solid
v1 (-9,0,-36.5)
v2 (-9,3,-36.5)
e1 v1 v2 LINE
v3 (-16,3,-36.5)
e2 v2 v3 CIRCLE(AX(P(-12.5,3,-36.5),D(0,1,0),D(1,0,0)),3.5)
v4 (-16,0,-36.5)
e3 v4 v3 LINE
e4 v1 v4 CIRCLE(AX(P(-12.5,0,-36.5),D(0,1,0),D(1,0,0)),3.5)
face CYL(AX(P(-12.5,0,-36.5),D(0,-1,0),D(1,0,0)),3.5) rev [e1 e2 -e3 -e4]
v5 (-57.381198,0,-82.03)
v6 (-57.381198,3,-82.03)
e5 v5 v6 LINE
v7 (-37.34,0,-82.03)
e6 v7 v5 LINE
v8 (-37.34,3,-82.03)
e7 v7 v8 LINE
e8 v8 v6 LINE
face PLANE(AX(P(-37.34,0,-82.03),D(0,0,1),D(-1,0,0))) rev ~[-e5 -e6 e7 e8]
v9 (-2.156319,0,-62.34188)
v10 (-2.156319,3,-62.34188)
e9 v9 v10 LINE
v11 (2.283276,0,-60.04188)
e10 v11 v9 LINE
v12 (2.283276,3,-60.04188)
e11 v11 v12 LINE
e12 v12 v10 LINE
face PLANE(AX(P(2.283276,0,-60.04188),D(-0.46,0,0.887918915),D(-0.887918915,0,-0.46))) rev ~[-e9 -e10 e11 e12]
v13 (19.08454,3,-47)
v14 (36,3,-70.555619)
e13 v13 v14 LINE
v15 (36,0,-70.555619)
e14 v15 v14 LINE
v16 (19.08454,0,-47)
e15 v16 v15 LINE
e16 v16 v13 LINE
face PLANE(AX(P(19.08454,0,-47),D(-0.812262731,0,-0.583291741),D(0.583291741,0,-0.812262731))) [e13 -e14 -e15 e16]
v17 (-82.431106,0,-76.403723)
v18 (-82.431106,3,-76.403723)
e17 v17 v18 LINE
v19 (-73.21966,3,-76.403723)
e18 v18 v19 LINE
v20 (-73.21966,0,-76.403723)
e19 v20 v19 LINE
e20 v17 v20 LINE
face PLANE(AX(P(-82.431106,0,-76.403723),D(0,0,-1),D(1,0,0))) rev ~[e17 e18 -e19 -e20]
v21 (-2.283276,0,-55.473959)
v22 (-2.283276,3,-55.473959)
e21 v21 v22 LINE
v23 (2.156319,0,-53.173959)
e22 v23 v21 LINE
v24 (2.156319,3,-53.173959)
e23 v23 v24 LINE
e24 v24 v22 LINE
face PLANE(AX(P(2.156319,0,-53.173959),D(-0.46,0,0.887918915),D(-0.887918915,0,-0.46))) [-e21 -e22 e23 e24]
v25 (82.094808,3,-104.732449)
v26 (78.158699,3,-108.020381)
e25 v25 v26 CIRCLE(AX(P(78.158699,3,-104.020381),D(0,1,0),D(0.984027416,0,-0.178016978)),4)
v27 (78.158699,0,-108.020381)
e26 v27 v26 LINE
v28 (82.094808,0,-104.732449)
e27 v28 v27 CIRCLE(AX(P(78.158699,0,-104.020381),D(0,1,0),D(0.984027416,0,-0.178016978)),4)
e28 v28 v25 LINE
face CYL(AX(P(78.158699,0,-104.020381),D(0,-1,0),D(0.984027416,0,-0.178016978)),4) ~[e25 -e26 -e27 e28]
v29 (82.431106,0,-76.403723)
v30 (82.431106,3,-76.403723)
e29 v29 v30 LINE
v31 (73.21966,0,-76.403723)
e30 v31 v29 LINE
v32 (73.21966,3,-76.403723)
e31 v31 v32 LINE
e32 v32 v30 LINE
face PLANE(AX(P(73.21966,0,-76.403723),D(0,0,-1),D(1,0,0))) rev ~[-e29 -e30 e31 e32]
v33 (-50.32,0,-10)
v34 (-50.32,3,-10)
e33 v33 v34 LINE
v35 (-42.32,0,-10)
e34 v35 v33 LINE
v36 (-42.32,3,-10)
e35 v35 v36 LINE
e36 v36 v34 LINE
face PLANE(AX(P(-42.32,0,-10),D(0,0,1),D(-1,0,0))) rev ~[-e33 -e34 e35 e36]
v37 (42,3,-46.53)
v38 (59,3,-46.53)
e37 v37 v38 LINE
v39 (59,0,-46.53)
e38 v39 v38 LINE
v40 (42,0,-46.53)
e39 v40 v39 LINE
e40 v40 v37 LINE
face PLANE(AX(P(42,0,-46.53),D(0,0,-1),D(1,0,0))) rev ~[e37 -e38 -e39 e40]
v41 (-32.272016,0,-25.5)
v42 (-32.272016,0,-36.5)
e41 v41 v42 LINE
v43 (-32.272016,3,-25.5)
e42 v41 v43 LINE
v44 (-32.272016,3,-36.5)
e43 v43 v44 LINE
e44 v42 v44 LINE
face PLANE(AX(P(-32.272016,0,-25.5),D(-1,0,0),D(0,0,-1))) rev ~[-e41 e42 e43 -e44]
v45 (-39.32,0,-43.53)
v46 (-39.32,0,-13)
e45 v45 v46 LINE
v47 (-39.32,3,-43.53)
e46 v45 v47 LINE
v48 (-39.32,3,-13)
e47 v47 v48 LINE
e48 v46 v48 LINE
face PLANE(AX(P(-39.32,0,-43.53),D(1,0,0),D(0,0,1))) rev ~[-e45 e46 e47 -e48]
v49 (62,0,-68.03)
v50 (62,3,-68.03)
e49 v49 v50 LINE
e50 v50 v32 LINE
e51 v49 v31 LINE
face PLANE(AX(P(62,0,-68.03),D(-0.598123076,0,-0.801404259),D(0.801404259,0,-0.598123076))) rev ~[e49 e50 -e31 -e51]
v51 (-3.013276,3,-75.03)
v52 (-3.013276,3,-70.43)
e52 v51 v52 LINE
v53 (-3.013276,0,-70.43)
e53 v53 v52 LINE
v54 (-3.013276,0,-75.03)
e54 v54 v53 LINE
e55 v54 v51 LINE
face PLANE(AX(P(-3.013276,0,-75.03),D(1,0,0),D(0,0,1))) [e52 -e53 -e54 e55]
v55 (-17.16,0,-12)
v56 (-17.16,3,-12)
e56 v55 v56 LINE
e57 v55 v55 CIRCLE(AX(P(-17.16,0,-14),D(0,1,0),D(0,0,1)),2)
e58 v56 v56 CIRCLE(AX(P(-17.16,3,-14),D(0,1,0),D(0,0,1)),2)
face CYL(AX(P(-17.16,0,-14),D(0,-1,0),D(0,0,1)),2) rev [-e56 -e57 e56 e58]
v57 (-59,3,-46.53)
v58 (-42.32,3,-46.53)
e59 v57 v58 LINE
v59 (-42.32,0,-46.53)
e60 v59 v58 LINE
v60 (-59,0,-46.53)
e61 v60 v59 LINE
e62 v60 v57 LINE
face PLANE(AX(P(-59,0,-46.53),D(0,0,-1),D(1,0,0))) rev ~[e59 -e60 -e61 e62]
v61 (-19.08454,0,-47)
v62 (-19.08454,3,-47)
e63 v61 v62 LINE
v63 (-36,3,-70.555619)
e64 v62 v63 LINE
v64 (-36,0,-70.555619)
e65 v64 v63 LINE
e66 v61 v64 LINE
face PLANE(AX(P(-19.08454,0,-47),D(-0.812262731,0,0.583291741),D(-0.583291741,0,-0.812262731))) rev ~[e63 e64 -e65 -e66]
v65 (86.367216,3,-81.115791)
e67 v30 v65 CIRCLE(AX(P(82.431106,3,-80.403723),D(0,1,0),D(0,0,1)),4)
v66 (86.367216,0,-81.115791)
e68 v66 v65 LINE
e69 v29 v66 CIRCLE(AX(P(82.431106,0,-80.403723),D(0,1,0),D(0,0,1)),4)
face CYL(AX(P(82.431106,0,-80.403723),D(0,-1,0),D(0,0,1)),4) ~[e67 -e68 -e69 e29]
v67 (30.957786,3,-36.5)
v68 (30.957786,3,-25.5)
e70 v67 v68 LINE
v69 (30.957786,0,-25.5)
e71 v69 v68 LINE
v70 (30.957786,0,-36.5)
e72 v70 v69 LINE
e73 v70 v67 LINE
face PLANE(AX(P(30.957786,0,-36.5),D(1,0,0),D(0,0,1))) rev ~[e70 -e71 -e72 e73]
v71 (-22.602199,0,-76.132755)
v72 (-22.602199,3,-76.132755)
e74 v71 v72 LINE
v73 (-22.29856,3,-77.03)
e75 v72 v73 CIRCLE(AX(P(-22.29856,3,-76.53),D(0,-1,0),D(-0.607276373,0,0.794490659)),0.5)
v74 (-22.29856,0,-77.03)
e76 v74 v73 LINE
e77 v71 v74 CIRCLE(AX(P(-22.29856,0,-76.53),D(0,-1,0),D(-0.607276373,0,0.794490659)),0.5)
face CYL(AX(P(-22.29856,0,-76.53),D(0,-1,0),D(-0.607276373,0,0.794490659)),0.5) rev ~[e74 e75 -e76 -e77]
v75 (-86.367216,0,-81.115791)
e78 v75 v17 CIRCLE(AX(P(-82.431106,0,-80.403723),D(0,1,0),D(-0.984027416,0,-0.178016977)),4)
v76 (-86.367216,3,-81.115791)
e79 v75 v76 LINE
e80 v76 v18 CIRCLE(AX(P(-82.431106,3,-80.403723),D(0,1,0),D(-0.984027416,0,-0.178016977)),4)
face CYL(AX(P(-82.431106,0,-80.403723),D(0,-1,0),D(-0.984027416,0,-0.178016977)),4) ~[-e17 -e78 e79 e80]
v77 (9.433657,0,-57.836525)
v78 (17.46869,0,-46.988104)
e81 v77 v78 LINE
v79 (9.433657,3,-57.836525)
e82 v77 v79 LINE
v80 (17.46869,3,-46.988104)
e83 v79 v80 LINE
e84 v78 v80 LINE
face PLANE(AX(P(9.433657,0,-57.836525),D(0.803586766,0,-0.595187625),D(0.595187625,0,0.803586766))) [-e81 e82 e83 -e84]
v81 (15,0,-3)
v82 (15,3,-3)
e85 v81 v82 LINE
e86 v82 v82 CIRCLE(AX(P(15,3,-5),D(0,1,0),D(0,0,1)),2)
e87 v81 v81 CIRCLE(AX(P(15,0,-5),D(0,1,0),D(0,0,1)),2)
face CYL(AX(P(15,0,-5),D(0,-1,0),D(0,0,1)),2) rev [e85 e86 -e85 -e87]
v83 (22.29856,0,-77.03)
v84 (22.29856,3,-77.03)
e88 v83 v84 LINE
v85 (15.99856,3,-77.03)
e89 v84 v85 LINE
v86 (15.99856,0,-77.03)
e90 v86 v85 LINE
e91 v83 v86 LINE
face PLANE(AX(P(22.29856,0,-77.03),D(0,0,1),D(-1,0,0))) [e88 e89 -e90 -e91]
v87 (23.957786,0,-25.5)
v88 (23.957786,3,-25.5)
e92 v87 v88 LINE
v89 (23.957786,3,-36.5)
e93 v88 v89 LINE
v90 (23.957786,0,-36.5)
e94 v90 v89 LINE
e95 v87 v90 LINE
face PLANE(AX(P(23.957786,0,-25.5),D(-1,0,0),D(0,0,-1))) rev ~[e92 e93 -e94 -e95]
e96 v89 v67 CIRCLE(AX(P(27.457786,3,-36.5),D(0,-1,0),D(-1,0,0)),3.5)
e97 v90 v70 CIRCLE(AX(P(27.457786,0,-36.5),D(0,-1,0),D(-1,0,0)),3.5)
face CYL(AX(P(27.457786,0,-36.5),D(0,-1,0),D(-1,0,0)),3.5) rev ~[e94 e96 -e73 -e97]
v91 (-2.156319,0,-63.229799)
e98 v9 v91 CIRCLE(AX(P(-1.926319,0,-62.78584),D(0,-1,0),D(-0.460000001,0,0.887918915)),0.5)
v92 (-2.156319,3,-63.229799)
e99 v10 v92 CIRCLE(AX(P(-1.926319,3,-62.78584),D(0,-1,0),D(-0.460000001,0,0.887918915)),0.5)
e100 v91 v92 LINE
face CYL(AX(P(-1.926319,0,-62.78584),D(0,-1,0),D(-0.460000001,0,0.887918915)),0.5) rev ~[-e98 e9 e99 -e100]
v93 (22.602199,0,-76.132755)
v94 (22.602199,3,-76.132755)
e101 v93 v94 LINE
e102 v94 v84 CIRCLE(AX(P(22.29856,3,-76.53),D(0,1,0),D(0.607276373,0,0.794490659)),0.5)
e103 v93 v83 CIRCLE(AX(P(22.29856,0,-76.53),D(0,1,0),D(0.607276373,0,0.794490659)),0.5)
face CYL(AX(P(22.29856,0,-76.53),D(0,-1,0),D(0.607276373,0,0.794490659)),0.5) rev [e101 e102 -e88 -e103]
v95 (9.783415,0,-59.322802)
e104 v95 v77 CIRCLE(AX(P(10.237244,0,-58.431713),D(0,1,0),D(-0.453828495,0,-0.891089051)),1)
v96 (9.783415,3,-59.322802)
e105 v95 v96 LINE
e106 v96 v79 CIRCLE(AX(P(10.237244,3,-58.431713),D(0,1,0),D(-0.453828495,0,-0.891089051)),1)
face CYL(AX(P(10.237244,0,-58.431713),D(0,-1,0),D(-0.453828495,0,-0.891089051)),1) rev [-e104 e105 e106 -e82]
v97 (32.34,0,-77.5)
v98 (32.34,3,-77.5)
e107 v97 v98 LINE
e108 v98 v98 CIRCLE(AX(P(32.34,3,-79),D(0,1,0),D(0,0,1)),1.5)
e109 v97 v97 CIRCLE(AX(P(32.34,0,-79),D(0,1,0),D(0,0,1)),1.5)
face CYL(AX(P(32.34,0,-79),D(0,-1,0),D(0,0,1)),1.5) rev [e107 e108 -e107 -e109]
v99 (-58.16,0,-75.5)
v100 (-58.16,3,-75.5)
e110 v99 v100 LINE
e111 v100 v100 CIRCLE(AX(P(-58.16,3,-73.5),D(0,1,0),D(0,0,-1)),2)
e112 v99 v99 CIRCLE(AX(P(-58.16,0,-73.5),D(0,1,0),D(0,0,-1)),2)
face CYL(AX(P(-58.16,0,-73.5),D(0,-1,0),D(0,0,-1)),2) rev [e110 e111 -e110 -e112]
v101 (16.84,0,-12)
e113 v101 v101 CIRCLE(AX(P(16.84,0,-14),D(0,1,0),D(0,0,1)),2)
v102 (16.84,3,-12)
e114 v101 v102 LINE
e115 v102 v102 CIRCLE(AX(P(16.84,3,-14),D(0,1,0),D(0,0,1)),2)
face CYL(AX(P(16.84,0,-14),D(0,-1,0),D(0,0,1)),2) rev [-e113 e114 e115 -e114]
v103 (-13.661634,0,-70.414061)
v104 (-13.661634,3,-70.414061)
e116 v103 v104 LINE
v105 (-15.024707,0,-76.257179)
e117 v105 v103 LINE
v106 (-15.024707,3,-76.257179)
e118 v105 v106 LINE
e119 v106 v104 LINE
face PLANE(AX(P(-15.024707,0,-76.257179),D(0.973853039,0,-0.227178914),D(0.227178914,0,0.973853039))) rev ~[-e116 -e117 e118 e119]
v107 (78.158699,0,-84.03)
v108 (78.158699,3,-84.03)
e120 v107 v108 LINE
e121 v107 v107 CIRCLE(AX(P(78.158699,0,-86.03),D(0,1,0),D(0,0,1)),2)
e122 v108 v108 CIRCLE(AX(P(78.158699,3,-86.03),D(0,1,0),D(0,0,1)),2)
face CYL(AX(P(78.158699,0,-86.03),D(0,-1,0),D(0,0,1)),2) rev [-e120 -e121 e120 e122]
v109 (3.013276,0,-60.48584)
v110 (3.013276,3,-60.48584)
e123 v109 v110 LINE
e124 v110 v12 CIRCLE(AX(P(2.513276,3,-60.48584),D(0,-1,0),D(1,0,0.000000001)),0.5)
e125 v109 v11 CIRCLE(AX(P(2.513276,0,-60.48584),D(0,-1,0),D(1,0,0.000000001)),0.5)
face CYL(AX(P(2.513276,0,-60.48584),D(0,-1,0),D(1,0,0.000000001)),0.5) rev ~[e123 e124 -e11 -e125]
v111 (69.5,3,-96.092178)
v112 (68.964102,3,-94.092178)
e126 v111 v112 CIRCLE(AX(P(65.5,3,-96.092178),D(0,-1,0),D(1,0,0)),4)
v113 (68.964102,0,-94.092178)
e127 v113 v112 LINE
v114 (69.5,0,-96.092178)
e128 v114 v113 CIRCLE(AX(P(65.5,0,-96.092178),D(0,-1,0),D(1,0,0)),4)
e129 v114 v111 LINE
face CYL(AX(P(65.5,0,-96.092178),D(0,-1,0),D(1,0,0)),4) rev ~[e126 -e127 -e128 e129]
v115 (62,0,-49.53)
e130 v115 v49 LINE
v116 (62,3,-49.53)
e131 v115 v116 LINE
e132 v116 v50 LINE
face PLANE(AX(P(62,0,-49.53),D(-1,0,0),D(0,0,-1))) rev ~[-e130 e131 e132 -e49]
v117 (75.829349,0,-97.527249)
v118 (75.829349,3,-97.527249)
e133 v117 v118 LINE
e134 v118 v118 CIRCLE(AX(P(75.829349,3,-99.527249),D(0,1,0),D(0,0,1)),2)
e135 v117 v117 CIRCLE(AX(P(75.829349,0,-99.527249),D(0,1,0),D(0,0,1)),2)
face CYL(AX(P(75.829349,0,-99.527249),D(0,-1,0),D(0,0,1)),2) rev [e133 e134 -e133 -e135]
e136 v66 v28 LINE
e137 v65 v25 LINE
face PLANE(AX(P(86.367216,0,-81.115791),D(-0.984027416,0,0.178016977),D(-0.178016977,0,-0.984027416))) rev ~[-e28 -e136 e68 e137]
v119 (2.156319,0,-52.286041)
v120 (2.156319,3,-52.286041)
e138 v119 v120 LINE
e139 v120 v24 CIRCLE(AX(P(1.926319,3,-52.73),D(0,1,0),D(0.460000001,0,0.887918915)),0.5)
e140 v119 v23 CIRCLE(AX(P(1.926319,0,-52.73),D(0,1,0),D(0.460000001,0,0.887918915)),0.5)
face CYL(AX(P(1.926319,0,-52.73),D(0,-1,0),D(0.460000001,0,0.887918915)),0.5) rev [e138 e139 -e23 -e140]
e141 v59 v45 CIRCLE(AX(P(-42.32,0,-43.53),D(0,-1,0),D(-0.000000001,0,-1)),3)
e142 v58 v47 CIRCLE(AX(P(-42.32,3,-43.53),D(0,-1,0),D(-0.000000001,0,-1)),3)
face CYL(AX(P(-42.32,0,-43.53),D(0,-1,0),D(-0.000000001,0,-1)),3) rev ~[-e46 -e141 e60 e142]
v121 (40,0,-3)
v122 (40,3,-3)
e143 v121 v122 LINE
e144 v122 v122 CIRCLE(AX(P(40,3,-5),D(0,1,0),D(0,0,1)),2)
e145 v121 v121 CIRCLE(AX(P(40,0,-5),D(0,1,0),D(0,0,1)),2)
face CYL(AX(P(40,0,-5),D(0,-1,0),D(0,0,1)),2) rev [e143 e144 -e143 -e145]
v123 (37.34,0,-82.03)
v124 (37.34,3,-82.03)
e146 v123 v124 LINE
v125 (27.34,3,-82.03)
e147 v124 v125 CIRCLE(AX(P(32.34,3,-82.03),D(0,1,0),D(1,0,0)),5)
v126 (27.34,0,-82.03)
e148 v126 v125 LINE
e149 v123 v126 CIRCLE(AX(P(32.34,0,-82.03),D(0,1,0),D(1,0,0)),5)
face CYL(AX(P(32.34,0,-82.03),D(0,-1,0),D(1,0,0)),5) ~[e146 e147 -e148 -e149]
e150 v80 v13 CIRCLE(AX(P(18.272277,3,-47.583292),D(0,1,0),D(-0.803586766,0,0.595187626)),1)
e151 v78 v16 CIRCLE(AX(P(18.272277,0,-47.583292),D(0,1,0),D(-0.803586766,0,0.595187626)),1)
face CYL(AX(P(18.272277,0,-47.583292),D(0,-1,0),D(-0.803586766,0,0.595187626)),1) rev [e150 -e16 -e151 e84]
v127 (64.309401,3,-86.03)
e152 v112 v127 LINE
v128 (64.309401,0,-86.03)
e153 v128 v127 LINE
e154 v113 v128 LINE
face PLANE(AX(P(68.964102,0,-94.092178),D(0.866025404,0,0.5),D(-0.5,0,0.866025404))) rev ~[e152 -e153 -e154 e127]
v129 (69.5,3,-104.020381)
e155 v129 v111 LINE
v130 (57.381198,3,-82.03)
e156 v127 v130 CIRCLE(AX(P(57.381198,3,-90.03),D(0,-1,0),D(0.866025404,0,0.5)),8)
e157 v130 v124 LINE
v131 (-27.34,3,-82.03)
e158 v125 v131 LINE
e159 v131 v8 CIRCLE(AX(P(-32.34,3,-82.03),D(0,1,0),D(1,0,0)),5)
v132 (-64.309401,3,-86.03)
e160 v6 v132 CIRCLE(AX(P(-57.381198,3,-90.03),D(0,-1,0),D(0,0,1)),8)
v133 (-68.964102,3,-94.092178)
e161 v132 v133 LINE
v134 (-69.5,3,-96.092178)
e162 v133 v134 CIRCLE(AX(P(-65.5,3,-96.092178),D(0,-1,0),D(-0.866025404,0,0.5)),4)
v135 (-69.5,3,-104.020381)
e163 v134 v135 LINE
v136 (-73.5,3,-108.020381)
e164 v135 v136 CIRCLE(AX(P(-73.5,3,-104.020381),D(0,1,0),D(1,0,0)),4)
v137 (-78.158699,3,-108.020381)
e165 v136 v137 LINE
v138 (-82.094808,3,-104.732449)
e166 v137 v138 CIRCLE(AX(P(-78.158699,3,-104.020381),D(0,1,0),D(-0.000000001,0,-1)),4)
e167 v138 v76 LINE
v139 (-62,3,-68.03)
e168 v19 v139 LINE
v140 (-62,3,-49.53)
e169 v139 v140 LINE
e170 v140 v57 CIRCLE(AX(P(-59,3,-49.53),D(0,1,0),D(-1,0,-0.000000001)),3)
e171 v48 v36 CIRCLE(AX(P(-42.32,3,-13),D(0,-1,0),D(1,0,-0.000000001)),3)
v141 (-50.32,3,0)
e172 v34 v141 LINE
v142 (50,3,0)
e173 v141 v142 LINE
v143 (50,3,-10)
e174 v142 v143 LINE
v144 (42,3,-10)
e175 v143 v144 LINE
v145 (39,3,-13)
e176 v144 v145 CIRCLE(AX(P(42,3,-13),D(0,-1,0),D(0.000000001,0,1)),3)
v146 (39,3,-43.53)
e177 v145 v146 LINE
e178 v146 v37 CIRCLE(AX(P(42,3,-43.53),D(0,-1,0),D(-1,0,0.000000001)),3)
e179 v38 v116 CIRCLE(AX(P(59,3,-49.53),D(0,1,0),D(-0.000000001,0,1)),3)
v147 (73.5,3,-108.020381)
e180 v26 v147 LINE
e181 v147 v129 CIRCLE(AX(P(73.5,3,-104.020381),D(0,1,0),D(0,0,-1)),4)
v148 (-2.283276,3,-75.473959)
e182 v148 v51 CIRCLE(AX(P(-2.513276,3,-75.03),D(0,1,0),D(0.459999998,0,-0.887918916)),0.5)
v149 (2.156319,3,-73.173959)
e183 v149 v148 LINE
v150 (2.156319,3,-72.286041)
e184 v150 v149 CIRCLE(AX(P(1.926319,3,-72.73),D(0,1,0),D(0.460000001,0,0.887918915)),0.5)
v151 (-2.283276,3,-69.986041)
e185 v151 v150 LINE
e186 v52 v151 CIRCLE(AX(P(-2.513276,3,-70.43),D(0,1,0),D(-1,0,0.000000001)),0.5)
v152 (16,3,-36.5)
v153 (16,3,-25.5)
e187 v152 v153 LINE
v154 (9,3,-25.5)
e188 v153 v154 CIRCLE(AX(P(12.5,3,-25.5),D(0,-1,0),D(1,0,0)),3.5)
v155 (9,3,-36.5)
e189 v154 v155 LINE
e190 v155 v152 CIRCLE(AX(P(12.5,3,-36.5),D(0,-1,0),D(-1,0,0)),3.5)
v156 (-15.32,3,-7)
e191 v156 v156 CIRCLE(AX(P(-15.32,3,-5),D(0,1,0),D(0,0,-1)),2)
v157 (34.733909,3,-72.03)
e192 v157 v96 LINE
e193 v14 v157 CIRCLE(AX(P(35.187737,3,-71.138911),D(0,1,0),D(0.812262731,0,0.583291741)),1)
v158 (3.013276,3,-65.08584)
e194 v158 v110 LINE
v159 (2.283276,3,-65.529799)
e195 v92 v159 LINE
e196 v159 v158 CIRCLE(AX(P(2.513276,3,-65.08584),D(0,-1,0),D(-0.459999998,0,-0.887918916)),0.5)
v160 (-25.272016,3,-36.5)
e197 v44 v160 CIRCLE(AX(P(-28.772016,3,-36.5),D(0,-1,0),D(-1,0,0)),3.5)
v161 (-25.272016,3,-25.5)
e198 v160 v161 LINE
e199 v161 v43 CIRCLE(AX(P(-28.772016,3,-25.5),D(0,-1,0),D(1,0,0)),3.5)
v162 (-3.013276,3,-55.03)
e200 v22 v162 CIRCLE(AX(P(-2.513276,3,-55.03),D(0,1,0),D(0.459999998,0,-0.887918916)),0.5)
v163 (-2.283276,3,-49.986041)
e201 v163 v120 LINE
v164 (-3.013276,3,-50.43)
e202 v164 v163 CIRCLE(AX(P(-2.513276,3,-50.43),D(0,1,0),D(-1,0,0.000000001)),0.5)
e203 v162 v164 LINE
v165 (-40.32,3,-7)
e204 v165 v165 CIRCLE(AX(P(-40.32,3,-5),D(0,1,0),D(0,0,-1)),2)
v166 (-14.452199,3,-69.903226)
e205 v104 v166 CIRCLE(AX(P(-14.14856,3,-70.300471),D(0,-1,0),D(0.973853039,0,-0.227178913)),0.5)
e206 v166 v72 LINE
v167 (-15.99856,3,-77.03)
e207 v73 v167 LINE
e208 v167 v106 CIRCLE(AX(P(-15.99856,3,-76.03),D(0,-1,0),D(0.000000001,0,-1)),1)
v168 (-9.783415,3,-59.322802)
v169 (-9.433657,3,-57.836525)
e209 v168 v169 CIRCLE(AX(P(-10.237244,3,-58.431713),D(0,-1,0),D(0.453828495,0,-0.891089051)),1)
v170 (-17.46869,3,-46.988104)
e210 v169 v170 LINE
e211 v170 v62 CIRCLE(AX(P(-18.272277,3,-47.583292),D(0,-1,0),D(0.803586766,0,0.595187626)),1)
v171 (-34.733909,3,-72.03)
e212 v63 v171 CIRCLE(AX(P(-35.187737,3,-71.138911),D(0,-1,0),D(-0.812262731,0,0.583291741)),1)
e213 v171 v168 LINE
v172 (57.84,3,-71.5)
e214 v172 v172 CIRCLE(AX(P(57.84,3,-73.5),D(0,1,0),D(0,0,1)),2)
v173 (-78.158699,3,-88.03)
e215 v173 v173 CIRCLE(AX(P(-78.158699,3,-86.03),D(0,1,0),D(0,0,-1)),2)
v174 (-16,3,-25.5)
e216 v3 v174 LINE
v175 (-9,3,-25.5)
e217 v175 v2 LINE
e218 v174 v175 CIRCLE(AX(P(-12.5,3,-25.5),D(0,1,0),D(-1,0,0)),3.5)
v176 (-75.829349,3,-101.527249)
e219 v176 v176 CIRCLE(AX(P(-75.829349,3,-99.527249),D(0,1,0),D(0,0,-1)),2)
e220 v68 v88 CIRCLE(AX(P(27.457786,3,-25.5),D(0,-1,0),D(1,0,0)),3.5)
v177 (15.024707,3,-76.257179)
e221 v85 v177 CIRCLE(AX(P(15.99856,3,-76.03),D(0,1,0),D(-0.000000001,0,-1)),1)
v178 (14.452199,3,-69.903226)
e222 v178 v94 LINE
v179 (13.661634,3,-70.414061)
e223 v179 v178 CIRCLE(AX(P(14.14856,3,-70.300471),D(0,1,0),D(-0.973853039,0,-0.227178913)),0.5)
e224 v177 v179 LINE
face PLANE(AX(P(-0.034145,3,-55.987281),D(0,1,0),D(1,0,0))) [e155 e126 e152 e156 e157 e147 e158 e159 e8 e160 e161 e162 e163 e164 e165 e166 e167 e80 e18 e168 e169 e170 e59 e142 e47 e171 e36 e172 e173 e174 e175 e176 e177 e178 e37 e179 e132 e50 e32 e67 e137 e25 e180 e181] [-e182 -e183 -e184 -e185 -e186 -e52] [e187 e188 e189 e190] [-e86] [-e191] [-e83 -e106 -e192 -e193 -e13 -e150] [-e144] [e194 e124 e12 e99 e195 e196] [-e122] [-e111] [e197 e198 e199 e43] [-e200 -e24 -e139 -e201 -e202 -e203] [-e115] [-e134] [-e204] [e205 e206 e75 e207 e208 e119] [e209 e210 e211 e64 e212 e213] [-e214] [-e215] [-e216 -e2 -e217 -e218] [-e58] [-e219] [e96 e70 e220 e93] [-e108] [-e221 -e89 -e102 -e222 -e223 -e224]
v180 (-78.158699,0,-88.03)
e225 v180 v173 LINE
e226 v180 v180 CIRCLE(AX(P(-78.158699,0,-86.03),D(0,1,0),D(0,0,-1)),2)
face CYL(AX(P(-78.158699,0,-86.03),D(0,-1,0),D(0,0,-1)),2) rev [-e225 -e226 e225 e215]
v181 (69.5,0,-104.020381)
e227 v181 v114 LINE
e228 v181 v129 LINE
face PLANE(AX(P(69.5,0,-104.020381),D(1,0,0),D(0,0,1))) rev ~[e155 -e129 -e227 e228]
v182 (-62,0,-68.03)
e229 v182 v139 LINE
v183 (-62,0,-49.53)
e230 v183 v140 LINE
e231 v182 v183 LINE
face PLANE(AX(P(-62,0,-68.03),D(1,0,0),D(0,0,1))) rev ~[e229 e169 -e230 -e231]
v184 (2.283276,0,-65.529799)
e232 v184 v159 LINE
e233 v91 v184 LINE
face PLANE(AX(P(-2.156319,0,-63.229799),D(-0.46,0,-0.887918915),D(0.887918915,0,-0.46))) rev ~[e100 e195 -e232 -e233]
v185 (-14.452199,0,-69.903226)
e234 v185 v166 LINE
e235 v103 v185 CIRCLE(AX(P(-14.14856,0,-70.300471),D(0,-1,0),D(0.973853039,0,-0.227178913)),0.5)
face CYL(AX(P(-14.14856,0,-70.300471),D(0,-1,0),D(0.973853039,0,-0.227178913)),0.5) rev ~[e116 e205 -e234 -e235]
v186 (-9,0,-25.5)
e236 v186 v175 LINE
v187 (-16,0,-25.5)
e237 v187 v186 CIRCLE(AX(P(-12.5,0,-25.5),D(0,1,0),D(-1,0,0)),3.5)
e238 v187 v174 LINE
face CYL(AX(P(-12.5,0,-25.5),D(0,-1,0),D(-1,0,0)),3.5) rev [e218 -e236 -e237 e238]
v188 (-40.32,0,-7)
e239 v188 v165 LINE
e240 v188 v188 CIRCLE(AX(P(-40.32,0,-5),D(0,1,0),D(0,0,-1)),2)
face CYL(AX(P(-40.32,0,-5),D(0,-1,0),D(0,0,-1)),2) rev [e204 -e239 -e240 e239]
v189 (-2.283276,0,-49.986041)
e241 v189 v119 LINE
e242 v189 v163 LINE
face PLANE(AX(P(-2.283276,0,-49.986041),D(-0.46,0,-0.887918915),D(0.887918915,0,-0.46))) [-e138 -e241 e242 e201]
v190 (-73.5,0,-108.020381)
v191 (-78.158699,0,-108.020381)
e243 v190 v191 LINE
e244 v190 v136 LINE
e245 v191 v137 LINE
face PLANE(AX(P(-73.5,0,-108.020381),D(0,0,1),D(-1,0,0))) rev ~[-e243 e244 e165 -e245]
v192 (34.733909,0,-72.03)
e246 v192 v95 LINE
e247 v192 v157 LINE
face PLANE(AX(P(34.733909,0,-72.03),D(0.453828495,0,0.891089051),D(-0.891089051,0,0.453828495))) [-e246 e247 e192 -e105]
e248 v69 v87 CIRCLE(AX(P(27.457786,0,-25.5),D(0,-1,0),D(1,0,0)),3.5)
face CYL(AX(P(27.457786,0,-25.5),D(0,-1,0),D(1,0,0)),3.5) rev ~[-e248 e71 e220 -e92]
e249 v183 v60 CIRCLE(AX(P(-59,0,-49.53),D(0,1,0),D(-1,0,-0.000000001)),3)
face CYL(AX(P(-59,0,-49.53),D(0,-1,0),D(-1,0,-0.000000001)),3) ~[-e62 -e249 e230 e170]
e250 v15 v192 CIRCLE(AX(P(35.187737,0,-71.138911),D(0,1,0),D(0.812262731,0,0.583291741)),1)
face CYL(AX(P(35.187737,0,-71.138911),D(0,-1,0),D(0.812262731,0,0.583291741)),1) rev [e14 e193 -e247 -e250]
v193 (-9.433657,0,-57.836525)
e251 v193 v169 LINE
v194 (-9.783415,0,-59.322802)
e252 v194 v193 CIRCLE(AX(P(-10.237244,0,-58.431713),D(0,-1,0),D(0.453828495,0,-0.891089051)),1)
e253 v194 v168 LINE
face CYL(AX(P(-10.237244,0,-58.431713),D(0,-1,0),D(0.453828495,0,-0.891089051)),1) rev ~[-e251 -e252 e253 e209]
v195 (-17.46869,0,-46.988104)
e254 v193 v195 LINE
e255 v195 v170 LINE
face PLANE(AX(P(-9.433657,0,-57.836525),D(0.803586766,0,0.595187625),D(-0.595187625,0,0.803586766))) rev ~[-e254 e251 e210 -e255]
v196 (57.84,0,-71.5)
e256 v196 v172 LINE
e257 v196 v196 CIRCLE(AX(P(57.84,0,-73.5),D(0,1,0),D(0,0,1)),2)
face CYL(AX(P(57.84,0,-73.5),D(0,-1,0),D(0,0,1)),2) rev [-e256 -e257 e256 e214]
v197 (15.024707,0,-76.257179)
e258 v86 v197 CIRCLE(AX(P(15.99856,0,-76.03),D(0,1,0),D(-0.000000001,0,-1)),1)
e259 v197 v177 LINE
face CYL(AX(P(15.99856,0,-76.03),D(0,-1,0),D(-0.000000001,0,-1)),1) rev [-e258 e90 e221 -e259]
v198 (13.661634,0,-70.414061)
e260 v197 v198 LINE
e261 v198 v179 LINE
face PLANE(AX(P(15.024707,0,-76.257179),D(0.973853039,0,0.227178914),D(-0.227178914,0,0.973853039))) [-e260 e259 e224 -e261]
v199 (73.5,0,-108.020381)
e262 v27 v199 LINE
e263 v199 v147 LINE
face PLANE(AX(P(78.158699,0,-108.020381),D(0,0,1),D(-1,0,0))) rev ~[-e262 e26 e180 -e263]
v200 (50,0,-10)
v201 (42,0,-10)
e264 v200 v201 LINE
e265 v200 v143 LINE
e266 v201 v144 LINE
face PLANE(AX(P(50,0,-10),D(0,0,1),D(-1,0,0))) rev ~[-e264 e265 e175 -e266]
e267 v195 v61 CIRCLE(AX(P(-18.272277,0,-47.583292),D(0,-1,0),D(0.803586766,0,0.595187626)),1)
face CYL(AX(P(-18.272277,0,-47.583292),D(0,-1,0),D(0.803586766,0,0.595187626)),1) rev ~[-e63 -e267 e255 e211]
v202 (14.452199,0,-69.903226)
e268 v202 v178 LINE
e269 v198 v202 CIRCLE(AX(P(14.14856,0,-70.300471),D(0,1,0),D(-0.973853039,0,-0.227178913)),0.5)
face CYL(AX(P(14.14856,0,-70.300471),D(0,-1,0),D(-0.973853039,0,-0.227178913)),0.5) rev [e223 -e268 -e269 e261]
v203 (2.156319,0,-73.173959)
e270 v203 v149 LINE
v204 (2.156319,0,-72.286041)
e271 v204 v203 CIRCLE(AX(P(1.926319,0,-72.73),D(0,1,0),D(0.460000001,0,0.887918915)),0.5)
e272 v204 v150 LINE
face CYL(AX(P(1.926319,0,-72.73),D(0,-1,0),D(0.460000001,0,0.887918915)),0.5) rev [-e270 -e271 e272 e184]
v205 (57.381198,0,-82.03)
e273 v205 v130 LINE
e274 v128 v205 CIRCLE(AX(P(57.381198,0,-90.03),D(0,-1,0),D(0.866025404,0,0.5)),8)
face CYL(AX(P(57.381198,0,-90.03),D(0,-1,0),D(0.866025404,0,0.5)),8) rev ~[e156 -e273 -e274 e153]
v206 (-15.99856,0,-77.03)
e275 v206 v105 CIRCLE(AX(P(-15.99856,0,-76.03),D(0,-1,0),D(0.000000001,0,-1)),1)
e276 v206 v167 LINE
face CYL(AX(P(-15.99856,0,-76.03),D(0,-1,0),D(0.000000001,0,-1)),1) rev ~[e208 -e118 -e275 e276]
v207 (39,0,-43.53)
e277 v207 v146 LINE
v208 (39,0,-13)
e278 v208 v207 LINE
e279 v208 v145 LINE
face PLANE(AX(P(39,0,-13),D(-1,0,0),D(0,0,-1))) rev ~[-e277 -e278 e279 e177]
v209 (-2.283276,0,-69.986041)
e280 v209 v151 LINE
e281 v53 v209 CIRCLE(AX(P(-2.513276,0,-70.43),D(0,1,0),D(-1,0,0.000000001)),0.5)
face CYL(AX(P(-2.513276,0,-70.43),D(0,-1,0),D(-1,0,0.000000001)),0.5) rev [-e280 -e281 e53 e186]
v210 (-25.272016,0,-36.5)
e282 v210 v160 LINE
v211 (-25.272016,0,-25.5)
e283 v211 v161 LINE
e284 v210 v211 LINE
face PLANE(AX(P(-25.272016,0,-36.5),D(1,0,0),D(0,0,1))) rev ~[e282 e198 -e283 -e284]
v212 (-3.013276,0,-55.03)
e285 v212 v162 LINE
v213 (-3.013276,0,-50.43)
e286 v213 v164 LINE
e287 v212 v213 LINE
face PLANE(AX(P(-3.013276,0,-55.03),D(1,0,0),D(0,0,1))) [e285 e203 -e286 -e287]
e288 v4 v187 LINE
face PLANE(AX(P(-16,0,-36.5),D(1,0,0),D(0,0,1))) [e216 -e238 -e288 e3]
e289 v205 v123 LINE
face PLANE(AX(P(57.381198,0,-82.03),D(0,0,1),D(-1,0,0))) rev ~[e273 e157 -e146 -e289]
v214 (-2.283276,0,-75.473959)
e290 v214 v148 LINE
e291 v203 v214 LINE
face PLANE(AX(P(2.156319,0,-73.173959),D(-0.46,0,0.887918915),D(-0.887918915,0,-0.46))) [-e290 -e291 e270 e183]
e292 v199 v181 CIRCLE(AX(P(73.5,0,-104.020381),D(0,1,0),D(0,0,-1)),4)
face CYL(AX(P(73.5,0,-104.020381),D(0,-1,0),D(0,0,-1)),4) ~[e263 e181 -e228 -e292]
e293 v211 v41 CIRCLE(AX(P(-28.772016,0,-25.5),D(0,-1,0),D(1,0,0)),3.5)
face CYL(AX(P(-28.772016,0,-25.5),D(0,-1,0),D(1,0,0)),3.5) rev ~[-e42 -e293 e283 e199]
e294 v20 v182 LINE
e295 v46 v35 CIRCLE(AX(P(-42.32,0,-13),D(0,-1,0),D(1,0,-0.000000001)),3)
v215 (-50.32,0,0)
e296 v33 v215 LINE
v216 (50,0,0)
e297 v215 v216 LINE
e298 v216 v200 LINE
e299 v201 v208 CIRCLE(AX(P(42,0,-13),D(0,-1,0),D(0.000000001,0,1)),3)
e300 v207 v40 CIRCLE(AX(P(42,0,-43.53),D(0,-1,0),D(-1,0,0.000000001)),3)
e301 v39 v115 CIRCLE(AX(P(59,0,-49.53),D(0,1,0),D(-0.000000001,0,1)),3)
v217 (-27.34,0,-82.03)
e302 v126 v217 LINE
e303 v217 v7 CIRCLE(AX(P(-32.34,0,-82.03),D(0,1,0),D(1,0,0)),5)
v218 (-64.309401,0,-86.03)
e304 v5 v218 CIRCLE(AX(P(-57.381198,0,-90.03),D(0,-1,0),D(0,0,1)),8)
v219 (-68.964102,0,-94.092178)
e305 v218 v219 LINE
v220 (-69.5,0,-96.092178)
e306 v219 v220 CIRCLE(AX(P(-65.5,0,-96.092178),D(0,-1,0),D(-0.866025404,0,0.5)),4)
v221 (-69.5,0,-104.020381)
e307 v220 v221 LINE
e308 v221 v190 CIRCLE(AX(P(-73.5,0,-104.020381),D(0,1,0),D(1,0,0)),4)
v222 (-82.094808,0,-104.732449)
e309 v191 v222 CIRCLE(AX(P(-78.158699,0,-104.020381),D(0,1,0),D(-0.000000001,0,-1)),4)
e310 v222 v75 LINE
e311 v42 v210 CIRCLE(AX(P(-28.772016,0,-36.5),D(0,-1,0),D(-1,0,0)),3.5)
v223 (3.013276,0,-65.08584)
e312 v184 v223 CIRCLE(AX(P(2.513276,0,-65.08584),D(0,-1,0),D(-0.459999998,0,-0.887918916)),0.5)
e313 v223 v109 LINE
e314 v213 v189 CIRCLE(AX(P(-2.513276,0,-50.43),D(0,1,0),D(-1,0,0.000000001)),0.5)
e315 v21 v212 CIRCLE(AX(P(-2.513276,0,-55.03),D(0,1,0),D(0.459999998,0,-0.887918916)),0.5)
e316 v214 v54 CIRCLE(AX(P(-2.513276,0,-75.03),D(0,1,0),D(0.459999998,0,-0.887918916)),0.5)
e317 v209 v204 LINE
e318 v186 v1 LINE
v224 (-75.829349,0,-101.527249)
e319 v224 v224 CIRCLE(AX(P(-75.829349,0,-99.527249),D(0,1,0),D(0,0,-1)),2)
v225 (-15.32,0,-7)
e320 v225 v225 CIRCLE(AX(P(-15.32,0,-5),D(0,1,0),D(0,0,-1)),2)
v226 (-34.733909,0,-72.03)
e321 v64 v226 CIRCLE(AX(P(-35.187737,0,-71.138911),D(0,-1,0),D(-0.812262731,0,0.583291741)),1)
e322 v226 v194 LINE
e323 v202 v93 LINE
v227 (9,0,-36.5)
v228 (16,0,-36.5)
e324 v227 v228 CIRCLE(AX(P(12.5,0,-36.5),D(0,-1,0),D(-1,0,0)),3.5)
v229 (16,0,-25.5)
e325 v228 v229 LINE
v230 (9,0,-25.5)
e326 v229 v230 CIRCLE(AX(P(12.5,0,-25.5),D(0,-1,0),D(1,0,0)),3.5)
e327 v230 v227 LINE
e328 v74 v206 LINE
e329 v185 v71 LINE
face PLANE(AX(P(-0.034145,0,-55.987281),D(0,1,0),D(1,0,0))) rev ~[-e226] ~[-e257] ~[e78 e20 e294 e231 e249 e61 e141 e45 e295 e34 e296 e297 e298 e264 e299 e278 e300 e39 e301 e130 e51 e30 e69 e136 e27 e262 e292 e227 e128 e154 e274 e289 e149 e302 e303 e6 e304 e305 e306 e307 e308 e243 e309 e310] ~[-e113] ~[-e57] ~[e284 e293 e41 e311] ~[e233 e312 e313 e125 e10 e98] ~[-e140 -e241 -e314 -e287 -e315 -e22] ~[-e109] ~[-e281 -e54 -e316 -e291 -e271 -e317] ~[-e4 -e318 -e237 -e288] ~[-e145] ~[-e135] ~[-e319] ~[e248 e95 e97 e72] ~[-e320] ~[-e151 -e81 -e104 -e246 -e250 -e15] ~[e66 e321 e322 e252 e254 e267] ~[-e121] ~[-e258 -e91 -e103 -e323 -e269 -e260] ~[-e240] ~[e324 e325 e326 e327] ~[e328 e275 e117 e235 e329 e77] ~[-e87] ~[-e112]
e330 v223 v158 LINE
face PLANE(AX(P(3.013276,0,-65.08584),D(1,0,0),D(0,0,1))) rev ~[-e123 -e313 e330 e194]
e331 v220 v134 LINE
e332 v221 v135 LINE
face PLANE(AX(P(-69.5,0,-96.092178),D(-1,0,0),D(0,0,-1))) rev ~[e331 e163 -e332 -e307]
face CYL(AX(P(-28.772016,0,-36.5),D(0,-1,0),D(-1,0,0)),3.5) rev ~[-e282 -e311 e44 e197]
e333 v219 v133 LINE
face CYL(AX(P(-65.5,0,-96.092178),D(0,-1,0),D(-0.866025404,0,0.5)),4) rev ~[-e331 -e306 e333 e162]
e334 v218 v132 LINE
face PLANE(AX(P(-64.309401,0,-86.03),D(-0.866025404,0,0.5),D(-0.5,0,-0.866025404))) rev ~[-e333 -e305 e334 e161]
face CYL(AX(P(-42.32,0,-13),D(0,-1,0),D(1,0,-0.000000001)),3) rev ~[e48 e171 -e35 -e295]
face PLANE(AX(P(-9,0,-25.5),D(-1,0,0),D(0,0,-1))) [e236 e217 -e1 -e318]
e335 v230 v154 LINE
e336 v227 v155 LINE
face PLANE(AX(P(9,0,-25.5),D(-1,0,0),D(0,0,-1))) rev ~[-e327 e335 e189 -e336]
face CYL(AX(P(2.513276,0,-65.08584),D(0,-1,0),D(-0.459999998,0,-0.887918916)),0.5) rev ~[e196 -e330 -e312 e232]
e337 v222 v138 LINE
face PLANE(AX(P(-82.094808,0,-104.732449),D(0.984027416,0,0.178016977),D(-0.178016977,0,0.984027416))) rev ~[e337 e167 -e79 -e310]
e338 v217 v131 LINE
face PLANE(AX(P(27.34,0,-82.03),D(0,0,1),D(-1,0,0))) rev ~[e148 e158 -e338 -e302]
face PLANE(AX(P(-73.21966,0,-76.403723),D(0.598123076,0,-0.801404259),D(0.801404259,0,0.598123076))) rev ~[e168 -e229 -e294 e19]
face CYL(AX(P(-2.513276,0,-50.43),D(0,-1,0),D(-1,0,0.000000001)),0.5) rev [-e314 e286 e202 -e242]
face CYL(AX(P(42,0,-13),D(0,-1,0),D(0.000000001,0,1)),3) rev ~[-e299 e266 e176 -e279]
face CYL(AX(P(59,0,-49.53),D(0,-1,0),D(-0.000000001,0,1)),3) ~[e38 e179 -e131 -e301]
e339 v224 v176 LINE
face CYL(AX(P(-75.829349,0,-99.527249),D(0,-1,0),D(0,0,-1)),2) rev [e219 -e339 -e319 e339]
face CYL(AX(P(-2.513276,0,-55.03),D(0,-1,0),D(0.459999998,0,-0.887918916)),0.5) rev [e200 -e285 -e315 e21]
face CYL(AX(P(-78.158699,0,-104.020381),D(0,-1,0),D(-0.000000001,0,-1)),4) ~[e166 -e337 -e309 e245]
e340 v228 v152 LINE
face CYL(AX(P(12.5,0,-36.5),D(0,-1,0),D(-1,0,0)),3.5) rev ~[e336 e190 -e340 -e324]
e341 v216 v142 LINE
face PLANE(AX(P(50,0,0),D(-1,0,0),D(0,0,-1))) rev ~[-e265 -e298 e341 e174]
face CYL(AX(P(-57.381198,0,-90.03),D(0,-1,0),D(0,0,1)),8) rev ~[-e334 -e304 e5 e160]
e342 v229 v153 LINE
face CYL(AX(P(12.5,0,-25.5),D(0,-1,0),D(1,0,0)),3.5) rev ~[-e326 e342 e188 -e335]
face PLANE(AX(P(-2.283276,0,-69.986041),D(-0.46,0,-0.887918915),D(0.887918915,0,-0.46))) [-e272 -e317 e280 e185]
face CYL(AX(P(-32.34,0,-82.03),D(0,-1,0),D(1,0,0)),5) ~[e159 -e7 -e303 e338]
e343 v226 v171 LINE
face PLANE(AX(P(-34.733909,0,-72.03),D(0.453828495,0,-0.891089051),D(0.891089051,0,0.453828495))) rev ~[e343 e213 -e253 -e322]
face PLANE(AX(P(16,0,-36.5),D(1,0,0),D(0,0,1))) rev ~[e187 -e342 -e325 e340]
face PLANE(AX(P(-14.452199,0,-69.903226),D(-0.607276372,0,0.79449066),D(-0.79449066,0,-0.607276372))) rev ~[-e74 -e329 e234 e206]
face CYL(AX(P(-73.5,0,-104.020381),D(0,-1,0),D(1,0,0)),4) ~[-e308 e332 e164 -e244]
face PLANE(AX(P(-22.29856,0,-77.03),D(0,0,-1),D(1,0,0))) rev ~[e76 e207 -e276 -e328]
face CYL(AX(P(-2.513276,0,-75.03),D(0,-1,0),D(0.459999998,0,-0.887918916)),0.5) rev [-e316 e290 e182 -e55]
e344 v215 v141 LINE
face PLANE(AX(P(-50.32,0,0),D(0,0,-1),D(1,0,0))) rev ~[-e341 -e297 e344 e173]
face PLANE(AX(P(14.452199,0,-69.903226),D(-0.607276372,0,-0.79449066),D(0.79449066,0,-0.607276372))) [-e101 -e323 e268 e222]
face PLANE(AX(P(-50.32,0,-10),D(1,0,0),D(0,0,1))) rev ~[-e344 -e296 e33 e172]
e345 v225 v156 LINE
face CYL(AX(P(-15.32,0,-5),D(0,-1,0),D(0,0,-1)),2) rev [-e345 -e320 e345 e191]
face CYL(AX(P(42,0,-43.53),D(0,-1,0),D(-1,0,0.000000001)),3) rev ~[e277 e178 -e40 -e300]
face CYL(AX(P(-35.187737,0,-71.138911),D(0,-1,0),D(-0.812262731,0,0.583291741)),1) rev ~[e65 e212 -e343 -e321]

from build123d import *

# Parameters (mm, degrees)
SKETCH_2_R      = 2
SKETCH_2_R_2    = 1.5
EXTRUDE_2_DEPTH = 3


with BuildPart() as part:
    # 草图2 → 凸台-拉伸2 (new body)
    with BuildSketch(Plane(origin=(0, 0, 0), x_dir=(1, 0, 0), z_dir=(0, 1, 0))):
        with BuildLine():
            Line((-50, 0), (50, 0))
            Line((50, 0), (50, 10))
            Line((50, 10), (42, 10))
            ThreePointArc((42, 10), (39.878679656, 10.878679656), (39, 13))
            Line((39, 13), (39, 43.53))
            ThreePointArc((39, 43.53), (39.878679656, 45.651320344), (42, 46.53))
            Line((42, 46.53), (59, 46.53))
            ThreePointArc((59, 46.53), (61.121320344, 47.408679656), (62, 49.53))
            Line((62, 49.53), (62, 68.03))
            Line((62, 68.03), (73.21965962, 76.403723067))
            Line((73.21965962, 76.403723067), (82.431106141, 76.403723067))
            ThreePointArc((82.431106141, 76.403723067), (85.500981678, 77.839378281), (86.367215806, 81.115790975))
            Line((86.367215806, 81.115790975), (82.094808358, 104.732448965))
            ThreePointArc((82.094808358, 104.732448965), (80.723043479, 107.090256594), (78.158698693, 108.020381057))
            Line((78.158698693, 108.020381057), (73.5, 108.020381057))
            ThreePointArc((73.5, 108.020381057), (70.671572875, 106.848808182), (69.5, 104.020381057))
            Line((69.5, 104.020381057), (69.5, 96.092177826))
            ThreePointArc((69.5, 96.092177826), (69.363703305, 95.056901646), (68.964101615, 94.092177826))
            Line((68.964101615, 94.092177826), (64.309401077, 86.03))
            ThreePointArc((64.309401077, 86.03), (61.381197846, 83.10179677), (57.381197846, 82.03))
            Line((57.381197846, 82.03), (37.34, 82.03))
            ThreePointArc((37.34, 82.03), (32.34, 87.03), (27.34, 82.03))
            Line((27.34, 82.03), (-27.34, 82.03))
            ThreePointArc((-27.34, 82.03), (-32.34, 87.03), (-37.34, 82.03))
            Line((-37.34, 82.03), (-57.381197846, 82.03))
            ThreePointArc((-57.381197846, 82.03), (-61.381197846, 83.10179677), (-64.309401077, 86.03))
            Line((-64.309401077, 86.03), (-68.964101615, 94.092177826))
            ThreePointArc((-68.964101615, 94.092177826), (-69.363703305, 95.056901646), (-69.5, 96.092177826))
            Line((-69.5, 96.092177826), (-69.5, 104.020381057))
            ThreePointArc((-69.5, 104.020381057), (-70.671572875, 106.848808182), (-73.5, 108.020381057))
            Line((-73.5, 108.020381057), (-78.158698693, 108.020381057))
            ThreePointArc((-78.158698693, 108.020381057), (-80.723043479, 107.090256594), (-82.094808358, 104.732448965))
            Line((-82.094808358, 104.732448965), (-86.367215806, 81.115790975))
            ThreePointArc((-86.367215806, 81.115790975), (-85.500981678, 77.839378281), (-82.431106141, 76.403723067))
            Line((-82.431106141, 76.403723067), (-73.21965962, 76.403723067))
            Line((-73.21965962, 76.403723067), (-62, 68.03))
            Line((-62, 68.03), (-62, 49.53))
            ThreePointArc((-62, 49.53), (-61.121320344, 47.408679656), (-59, 46.53))
            Line((-59, 46.53), (-42.32, 46.53))
            ThreePointArc((-42.32, 46.53), (-40.198679656, 45.651320344), (-39.32, 43.53))
            Line((-39.32, 43.53), (-39.32, 13))
            ThreePointArc((-39.32, 13), (-40.198679656, 10.878679656), (-42.32, 10))
            Line((-42.32, 10), (-50.32, 10))
            Line((-50.32, 10), (-50.32, 0))
            Line((-50.32, 0), (-50, 0))
        make_face()
        with Locations(Location((40, 5, 0), (0, 0, 270))):
            Circle(SKETCH_2_R, mode=Mode.SUBTRACT)
        with Locations(Location((15, 5, 0), (0, 0, 270))):
            Circle(SKETCH_2_R, mode=Mode.SUBTRACT)
        with Locations(Location((57.84, 73.5, 0), (0, 0, 270))):
            Circle(SKETCH_2_R, mode=Mode.SUBTRACT)
        with Locations(Location((16.84, 14, 0), (0, 0, 270))):
            Circle(SKETCH_2_R, mode=Mode.SUBTRACT)
        with Locations(Location((78.158698693, 86.03, 0), (0, 0, 270))):
            Circle(SKETCH_2_R, mode=Mode.SUBTRACT)
        with Locations(Location((75.829349346, 99.527249228, 0), (0, 0, 270))):
            Circle(SKETCH_2_R, mode=Mode.SUBTRACT)
        with Locations(Location((-75.829349346, 99.527249228, 0), (0, 0, 90))):
            Circle(SKETCH_2_R, mode=Mode.SUBTRACT)
        with Locations(Location((-78.158698693, 86.03, 0), (0, 0, 90))):
            Circle(SKETCH_2_R, mode=Mode.SUBTRACT)
        with Locations(Location((-58.16, 73.5, 0), (0, 0, 90))):
            Circle(SKETCH_2_R, mode=Mode.SUBTRACT)
        with Locations(Location((-40.32, 5, 0), (0, 0, 90))):
            Circle(SKETCH_2_R, mode=Mode.SUBTRACT)
        with Locations(Location((-15.32, 5, 0), (0, 0, 90))):
            Circle(SKETCH_2_R, mode=Mode.SUBTRACT)
        with Locations(Location((-17.16, 14, 0), (0, 0, 270))):
            Circle(SKETCH_2_R, mode=Mode.SUBTRACT)
        with Locations(Location((32.34, 79, 0), (0, 0, 270))):
            Circle(SKETCH_2_R_2, mode=Mode.SUBTRACT)
        with BuildLine():
            Line((9, 25.5), (9, 36.5))
            ThreePointArc((9, 36.5), (12.5, 40), (16, 36.5))
            Line((16, 36.5), (16, 25.5))
            ThreePointArc((16, 25.5), (12.5, 22), (9, 25.5))
        make_face(mode=Mode.SUBTRACT)
        with BuildLine():
            Line((-9, 25.5), (-9, 36.5))
            ThreePointArc((-9, 36.5), (-12.5, 40), (-16, 36.5))
            Line((-16, 36.5), (-16, 25.5))
            ThreePointArc((-16, 25.5), (-12.5, 22), (-9, 25.5))
        make_face(mode=Mode.SUBTRACT)
        with BuildLine():
            Line((-25.272016313, 36.5), (-25.272016313, 25.5))
            ThreePointArc((-25.272016313, 25.5), (-28.772016313, 22), (-32.272016313, 25.5))
            Line((-32.272016313, 25.5), (-32.272016313, 36.5))
            ThreePointArc((-32.272016313, 36.5), (-28.772016313, 40), (-25.272016313, 36.5))
        make_face(mode=Mode.SUBTRACT)
        with BuildLine():
            Line((30.95778596, 36.5), (30.95778596, 25.5))
            ThreePointArc((30.95778596, 25.5), (27.45778596, 22), (23.95778596, 25.5))
            Line((23.95778596, 25.5), (23.95778596, 36.5))
            ThreePointArc((23.95778596, 36.5), (27.45778596, 40), (30.95778596, 36.5))
        make_face(mode=Mode.SUBTRACT)
        with BuildLine():
            Line((-34.733908774, 72.03), (-9.783415342, 59.322802138))
            ThreePointArc((-9.783415342, 59.322802138), (-9.263833402, 58.660781037), (-9.43365707, 57.836525462))
            Line((-9.43365707, 57.836525462), (-17.468690008, 46.988104116))
            ThreePointArc((-17.468690008, 46.988104116), (-18.279638575, 46.58331884), (-19.084539505, 47))
            Line((-19.084539505, 47), (-36, 70.555619208))
            ThreePointArc((-36, 70.555619208), (-35.946399549, 71.790395058), (-34.733908774, 72.03))
        make_face(mode=Mode.SUBTRACT)
        with BuildLine():
            Line((-22.298560337, 77.03), (-15.998560337, 77.03))
            ThreePointArc((-15.998560337, 77.03), (-15.376941046, 76.813319511), (-15.024707298, 76.257178913))
            Line((-15.024707298, 76.257178913), (-13.661633817, 70.41406068))
            ThreePointArc((-13.661633817, 70.41406068), (-13.87719951, 69.880514914), (-14.452198523, 69.903225894))
            Line((-14.452198523, 69.903225894), (-22.602198523, 76.13275467))
            ThreePointArc((-22.602198523, 76.13275467), (-22.77217551, 76.690276846), (-22.298560337, 77.03))
        make_face(mode=Mode.SUBTRACT)
        with BuildLine():
            Line((9.43365707, 57.836525462), (17.468690008, 46.988104116))
            ThreePointArc((17.468690008, 46.988104116), (18.279638575, 46.58331884), (19.084539505, 47))
            Line((19.084539505, 47), (36, 70.555619208))
            ThreePointArc((36, 70.555619208), (35.946399549, 71.790395058), (34.733908774, 72.03))
            Line((34.733908774, 72.03), (9.783415342, 59.322802138))
            ThreePointArc((9.783415342, 59.322802138), (9.263833402, 58.660781037), (9.43365707, 57.836525462))
        make_face(mode=Mode.SUBTRACT)
        with BuildLine():
            Line((14.452198523, 69.903225894), (22.602198523, 76.13275467))
            ThreePointArc((22.602198523, 76.13275467), (22.77217551, 76.690276846), (22.298560337, 77.03))
            Line((22.298560337, 77.03), (15.998560337, 77.03))
            ThreePointArc((15.998560337, 77.03), (15.376941046, 76.813319511), (15.024707298, 76.257178913))
            Line((15.024707298, 76.257178913), (13.661633817, 70.41406068))
            ThreePointArc((13.661633817, 70.41406068), (13.87719951, 69.880514914), (14.452198523, 69.903225894))
        make_face(mode=Mode.SUBTRACT)
        with BuildLine():
            Line((-3.013275549, 75.03), (-3.013275549, 70.43))
            ThreePointArc((-3.013275549, 70.43), (-2.77308317, 70.002799813), (-2.283275549, 69.986040542))
            Line((-2.283275549, 69.986040542), (2.156319027, 72.286040542))
            ThreePointArc((2.156319027, 72.286040542), (2.426319027, 72.73), (2.156319027, 73.173959458))
            Line((2.156319027, 73.173959458), (-2.283275549, 75.473959458))
            ThreePointArc((-2.283275549, 75.473959458), (-2.77308317, 75.457200187), (-3.013275549, 75.03))
        make_face(mode=Mode.SUBTRACT)
        with BuildLine():
            Line((3.013275549, 65.085839579), (3.013275549, 60.485839579))
            ThreePointArc((3.013275549, 60.485839579), (2.77308317, 60.058639392), (2.283275549, 60.041880121))
            Line((2.283275549, 60.041880121), (-2.156319027, 62.341880121))
            ThreePointArc((-2.156319027, 62.341880121), (-2.426319027, 62.785839579), (-2.156319027, 63.229799037))
            Line((-2.156319027, 63.229799037), (2.283275549, 65.529799037))
            ThreePointArc((2.283275549, 65.529799037), (2.77308317, 65.513039766), (3.013275549, 65.085839579))
        make_face(mode=Mode.SUBTRACT)
        with BuildLine():
            Line((-2.283275549, 49.986040542), (2.156319027, 52.286040542))
            ThreePointArc((2.156319027, 52.286040542), (2.426319027, 52.73), (2.156319027, 53.173959458))
            Line((2.156319027, 53.173959458), (-2.283275549, 55.473959458))
            ThreePointArc((-2.283275549, 55.473959458), (-2.77308317, 55.457200187), (-3.013275549, 55.03))
            Line((-3.013275549, 55.03), (-3.013275549, 50.43))
            ThreePointArc((-3.013275549, 50.43), (-2.77308317, 50.002799813), (-2.283275549, 49.986040542))
        make_face(mode=Mode.SUBTRACT)
    extrude(amount=EXTRUDE_2_DEPTH)


solid = part.part
